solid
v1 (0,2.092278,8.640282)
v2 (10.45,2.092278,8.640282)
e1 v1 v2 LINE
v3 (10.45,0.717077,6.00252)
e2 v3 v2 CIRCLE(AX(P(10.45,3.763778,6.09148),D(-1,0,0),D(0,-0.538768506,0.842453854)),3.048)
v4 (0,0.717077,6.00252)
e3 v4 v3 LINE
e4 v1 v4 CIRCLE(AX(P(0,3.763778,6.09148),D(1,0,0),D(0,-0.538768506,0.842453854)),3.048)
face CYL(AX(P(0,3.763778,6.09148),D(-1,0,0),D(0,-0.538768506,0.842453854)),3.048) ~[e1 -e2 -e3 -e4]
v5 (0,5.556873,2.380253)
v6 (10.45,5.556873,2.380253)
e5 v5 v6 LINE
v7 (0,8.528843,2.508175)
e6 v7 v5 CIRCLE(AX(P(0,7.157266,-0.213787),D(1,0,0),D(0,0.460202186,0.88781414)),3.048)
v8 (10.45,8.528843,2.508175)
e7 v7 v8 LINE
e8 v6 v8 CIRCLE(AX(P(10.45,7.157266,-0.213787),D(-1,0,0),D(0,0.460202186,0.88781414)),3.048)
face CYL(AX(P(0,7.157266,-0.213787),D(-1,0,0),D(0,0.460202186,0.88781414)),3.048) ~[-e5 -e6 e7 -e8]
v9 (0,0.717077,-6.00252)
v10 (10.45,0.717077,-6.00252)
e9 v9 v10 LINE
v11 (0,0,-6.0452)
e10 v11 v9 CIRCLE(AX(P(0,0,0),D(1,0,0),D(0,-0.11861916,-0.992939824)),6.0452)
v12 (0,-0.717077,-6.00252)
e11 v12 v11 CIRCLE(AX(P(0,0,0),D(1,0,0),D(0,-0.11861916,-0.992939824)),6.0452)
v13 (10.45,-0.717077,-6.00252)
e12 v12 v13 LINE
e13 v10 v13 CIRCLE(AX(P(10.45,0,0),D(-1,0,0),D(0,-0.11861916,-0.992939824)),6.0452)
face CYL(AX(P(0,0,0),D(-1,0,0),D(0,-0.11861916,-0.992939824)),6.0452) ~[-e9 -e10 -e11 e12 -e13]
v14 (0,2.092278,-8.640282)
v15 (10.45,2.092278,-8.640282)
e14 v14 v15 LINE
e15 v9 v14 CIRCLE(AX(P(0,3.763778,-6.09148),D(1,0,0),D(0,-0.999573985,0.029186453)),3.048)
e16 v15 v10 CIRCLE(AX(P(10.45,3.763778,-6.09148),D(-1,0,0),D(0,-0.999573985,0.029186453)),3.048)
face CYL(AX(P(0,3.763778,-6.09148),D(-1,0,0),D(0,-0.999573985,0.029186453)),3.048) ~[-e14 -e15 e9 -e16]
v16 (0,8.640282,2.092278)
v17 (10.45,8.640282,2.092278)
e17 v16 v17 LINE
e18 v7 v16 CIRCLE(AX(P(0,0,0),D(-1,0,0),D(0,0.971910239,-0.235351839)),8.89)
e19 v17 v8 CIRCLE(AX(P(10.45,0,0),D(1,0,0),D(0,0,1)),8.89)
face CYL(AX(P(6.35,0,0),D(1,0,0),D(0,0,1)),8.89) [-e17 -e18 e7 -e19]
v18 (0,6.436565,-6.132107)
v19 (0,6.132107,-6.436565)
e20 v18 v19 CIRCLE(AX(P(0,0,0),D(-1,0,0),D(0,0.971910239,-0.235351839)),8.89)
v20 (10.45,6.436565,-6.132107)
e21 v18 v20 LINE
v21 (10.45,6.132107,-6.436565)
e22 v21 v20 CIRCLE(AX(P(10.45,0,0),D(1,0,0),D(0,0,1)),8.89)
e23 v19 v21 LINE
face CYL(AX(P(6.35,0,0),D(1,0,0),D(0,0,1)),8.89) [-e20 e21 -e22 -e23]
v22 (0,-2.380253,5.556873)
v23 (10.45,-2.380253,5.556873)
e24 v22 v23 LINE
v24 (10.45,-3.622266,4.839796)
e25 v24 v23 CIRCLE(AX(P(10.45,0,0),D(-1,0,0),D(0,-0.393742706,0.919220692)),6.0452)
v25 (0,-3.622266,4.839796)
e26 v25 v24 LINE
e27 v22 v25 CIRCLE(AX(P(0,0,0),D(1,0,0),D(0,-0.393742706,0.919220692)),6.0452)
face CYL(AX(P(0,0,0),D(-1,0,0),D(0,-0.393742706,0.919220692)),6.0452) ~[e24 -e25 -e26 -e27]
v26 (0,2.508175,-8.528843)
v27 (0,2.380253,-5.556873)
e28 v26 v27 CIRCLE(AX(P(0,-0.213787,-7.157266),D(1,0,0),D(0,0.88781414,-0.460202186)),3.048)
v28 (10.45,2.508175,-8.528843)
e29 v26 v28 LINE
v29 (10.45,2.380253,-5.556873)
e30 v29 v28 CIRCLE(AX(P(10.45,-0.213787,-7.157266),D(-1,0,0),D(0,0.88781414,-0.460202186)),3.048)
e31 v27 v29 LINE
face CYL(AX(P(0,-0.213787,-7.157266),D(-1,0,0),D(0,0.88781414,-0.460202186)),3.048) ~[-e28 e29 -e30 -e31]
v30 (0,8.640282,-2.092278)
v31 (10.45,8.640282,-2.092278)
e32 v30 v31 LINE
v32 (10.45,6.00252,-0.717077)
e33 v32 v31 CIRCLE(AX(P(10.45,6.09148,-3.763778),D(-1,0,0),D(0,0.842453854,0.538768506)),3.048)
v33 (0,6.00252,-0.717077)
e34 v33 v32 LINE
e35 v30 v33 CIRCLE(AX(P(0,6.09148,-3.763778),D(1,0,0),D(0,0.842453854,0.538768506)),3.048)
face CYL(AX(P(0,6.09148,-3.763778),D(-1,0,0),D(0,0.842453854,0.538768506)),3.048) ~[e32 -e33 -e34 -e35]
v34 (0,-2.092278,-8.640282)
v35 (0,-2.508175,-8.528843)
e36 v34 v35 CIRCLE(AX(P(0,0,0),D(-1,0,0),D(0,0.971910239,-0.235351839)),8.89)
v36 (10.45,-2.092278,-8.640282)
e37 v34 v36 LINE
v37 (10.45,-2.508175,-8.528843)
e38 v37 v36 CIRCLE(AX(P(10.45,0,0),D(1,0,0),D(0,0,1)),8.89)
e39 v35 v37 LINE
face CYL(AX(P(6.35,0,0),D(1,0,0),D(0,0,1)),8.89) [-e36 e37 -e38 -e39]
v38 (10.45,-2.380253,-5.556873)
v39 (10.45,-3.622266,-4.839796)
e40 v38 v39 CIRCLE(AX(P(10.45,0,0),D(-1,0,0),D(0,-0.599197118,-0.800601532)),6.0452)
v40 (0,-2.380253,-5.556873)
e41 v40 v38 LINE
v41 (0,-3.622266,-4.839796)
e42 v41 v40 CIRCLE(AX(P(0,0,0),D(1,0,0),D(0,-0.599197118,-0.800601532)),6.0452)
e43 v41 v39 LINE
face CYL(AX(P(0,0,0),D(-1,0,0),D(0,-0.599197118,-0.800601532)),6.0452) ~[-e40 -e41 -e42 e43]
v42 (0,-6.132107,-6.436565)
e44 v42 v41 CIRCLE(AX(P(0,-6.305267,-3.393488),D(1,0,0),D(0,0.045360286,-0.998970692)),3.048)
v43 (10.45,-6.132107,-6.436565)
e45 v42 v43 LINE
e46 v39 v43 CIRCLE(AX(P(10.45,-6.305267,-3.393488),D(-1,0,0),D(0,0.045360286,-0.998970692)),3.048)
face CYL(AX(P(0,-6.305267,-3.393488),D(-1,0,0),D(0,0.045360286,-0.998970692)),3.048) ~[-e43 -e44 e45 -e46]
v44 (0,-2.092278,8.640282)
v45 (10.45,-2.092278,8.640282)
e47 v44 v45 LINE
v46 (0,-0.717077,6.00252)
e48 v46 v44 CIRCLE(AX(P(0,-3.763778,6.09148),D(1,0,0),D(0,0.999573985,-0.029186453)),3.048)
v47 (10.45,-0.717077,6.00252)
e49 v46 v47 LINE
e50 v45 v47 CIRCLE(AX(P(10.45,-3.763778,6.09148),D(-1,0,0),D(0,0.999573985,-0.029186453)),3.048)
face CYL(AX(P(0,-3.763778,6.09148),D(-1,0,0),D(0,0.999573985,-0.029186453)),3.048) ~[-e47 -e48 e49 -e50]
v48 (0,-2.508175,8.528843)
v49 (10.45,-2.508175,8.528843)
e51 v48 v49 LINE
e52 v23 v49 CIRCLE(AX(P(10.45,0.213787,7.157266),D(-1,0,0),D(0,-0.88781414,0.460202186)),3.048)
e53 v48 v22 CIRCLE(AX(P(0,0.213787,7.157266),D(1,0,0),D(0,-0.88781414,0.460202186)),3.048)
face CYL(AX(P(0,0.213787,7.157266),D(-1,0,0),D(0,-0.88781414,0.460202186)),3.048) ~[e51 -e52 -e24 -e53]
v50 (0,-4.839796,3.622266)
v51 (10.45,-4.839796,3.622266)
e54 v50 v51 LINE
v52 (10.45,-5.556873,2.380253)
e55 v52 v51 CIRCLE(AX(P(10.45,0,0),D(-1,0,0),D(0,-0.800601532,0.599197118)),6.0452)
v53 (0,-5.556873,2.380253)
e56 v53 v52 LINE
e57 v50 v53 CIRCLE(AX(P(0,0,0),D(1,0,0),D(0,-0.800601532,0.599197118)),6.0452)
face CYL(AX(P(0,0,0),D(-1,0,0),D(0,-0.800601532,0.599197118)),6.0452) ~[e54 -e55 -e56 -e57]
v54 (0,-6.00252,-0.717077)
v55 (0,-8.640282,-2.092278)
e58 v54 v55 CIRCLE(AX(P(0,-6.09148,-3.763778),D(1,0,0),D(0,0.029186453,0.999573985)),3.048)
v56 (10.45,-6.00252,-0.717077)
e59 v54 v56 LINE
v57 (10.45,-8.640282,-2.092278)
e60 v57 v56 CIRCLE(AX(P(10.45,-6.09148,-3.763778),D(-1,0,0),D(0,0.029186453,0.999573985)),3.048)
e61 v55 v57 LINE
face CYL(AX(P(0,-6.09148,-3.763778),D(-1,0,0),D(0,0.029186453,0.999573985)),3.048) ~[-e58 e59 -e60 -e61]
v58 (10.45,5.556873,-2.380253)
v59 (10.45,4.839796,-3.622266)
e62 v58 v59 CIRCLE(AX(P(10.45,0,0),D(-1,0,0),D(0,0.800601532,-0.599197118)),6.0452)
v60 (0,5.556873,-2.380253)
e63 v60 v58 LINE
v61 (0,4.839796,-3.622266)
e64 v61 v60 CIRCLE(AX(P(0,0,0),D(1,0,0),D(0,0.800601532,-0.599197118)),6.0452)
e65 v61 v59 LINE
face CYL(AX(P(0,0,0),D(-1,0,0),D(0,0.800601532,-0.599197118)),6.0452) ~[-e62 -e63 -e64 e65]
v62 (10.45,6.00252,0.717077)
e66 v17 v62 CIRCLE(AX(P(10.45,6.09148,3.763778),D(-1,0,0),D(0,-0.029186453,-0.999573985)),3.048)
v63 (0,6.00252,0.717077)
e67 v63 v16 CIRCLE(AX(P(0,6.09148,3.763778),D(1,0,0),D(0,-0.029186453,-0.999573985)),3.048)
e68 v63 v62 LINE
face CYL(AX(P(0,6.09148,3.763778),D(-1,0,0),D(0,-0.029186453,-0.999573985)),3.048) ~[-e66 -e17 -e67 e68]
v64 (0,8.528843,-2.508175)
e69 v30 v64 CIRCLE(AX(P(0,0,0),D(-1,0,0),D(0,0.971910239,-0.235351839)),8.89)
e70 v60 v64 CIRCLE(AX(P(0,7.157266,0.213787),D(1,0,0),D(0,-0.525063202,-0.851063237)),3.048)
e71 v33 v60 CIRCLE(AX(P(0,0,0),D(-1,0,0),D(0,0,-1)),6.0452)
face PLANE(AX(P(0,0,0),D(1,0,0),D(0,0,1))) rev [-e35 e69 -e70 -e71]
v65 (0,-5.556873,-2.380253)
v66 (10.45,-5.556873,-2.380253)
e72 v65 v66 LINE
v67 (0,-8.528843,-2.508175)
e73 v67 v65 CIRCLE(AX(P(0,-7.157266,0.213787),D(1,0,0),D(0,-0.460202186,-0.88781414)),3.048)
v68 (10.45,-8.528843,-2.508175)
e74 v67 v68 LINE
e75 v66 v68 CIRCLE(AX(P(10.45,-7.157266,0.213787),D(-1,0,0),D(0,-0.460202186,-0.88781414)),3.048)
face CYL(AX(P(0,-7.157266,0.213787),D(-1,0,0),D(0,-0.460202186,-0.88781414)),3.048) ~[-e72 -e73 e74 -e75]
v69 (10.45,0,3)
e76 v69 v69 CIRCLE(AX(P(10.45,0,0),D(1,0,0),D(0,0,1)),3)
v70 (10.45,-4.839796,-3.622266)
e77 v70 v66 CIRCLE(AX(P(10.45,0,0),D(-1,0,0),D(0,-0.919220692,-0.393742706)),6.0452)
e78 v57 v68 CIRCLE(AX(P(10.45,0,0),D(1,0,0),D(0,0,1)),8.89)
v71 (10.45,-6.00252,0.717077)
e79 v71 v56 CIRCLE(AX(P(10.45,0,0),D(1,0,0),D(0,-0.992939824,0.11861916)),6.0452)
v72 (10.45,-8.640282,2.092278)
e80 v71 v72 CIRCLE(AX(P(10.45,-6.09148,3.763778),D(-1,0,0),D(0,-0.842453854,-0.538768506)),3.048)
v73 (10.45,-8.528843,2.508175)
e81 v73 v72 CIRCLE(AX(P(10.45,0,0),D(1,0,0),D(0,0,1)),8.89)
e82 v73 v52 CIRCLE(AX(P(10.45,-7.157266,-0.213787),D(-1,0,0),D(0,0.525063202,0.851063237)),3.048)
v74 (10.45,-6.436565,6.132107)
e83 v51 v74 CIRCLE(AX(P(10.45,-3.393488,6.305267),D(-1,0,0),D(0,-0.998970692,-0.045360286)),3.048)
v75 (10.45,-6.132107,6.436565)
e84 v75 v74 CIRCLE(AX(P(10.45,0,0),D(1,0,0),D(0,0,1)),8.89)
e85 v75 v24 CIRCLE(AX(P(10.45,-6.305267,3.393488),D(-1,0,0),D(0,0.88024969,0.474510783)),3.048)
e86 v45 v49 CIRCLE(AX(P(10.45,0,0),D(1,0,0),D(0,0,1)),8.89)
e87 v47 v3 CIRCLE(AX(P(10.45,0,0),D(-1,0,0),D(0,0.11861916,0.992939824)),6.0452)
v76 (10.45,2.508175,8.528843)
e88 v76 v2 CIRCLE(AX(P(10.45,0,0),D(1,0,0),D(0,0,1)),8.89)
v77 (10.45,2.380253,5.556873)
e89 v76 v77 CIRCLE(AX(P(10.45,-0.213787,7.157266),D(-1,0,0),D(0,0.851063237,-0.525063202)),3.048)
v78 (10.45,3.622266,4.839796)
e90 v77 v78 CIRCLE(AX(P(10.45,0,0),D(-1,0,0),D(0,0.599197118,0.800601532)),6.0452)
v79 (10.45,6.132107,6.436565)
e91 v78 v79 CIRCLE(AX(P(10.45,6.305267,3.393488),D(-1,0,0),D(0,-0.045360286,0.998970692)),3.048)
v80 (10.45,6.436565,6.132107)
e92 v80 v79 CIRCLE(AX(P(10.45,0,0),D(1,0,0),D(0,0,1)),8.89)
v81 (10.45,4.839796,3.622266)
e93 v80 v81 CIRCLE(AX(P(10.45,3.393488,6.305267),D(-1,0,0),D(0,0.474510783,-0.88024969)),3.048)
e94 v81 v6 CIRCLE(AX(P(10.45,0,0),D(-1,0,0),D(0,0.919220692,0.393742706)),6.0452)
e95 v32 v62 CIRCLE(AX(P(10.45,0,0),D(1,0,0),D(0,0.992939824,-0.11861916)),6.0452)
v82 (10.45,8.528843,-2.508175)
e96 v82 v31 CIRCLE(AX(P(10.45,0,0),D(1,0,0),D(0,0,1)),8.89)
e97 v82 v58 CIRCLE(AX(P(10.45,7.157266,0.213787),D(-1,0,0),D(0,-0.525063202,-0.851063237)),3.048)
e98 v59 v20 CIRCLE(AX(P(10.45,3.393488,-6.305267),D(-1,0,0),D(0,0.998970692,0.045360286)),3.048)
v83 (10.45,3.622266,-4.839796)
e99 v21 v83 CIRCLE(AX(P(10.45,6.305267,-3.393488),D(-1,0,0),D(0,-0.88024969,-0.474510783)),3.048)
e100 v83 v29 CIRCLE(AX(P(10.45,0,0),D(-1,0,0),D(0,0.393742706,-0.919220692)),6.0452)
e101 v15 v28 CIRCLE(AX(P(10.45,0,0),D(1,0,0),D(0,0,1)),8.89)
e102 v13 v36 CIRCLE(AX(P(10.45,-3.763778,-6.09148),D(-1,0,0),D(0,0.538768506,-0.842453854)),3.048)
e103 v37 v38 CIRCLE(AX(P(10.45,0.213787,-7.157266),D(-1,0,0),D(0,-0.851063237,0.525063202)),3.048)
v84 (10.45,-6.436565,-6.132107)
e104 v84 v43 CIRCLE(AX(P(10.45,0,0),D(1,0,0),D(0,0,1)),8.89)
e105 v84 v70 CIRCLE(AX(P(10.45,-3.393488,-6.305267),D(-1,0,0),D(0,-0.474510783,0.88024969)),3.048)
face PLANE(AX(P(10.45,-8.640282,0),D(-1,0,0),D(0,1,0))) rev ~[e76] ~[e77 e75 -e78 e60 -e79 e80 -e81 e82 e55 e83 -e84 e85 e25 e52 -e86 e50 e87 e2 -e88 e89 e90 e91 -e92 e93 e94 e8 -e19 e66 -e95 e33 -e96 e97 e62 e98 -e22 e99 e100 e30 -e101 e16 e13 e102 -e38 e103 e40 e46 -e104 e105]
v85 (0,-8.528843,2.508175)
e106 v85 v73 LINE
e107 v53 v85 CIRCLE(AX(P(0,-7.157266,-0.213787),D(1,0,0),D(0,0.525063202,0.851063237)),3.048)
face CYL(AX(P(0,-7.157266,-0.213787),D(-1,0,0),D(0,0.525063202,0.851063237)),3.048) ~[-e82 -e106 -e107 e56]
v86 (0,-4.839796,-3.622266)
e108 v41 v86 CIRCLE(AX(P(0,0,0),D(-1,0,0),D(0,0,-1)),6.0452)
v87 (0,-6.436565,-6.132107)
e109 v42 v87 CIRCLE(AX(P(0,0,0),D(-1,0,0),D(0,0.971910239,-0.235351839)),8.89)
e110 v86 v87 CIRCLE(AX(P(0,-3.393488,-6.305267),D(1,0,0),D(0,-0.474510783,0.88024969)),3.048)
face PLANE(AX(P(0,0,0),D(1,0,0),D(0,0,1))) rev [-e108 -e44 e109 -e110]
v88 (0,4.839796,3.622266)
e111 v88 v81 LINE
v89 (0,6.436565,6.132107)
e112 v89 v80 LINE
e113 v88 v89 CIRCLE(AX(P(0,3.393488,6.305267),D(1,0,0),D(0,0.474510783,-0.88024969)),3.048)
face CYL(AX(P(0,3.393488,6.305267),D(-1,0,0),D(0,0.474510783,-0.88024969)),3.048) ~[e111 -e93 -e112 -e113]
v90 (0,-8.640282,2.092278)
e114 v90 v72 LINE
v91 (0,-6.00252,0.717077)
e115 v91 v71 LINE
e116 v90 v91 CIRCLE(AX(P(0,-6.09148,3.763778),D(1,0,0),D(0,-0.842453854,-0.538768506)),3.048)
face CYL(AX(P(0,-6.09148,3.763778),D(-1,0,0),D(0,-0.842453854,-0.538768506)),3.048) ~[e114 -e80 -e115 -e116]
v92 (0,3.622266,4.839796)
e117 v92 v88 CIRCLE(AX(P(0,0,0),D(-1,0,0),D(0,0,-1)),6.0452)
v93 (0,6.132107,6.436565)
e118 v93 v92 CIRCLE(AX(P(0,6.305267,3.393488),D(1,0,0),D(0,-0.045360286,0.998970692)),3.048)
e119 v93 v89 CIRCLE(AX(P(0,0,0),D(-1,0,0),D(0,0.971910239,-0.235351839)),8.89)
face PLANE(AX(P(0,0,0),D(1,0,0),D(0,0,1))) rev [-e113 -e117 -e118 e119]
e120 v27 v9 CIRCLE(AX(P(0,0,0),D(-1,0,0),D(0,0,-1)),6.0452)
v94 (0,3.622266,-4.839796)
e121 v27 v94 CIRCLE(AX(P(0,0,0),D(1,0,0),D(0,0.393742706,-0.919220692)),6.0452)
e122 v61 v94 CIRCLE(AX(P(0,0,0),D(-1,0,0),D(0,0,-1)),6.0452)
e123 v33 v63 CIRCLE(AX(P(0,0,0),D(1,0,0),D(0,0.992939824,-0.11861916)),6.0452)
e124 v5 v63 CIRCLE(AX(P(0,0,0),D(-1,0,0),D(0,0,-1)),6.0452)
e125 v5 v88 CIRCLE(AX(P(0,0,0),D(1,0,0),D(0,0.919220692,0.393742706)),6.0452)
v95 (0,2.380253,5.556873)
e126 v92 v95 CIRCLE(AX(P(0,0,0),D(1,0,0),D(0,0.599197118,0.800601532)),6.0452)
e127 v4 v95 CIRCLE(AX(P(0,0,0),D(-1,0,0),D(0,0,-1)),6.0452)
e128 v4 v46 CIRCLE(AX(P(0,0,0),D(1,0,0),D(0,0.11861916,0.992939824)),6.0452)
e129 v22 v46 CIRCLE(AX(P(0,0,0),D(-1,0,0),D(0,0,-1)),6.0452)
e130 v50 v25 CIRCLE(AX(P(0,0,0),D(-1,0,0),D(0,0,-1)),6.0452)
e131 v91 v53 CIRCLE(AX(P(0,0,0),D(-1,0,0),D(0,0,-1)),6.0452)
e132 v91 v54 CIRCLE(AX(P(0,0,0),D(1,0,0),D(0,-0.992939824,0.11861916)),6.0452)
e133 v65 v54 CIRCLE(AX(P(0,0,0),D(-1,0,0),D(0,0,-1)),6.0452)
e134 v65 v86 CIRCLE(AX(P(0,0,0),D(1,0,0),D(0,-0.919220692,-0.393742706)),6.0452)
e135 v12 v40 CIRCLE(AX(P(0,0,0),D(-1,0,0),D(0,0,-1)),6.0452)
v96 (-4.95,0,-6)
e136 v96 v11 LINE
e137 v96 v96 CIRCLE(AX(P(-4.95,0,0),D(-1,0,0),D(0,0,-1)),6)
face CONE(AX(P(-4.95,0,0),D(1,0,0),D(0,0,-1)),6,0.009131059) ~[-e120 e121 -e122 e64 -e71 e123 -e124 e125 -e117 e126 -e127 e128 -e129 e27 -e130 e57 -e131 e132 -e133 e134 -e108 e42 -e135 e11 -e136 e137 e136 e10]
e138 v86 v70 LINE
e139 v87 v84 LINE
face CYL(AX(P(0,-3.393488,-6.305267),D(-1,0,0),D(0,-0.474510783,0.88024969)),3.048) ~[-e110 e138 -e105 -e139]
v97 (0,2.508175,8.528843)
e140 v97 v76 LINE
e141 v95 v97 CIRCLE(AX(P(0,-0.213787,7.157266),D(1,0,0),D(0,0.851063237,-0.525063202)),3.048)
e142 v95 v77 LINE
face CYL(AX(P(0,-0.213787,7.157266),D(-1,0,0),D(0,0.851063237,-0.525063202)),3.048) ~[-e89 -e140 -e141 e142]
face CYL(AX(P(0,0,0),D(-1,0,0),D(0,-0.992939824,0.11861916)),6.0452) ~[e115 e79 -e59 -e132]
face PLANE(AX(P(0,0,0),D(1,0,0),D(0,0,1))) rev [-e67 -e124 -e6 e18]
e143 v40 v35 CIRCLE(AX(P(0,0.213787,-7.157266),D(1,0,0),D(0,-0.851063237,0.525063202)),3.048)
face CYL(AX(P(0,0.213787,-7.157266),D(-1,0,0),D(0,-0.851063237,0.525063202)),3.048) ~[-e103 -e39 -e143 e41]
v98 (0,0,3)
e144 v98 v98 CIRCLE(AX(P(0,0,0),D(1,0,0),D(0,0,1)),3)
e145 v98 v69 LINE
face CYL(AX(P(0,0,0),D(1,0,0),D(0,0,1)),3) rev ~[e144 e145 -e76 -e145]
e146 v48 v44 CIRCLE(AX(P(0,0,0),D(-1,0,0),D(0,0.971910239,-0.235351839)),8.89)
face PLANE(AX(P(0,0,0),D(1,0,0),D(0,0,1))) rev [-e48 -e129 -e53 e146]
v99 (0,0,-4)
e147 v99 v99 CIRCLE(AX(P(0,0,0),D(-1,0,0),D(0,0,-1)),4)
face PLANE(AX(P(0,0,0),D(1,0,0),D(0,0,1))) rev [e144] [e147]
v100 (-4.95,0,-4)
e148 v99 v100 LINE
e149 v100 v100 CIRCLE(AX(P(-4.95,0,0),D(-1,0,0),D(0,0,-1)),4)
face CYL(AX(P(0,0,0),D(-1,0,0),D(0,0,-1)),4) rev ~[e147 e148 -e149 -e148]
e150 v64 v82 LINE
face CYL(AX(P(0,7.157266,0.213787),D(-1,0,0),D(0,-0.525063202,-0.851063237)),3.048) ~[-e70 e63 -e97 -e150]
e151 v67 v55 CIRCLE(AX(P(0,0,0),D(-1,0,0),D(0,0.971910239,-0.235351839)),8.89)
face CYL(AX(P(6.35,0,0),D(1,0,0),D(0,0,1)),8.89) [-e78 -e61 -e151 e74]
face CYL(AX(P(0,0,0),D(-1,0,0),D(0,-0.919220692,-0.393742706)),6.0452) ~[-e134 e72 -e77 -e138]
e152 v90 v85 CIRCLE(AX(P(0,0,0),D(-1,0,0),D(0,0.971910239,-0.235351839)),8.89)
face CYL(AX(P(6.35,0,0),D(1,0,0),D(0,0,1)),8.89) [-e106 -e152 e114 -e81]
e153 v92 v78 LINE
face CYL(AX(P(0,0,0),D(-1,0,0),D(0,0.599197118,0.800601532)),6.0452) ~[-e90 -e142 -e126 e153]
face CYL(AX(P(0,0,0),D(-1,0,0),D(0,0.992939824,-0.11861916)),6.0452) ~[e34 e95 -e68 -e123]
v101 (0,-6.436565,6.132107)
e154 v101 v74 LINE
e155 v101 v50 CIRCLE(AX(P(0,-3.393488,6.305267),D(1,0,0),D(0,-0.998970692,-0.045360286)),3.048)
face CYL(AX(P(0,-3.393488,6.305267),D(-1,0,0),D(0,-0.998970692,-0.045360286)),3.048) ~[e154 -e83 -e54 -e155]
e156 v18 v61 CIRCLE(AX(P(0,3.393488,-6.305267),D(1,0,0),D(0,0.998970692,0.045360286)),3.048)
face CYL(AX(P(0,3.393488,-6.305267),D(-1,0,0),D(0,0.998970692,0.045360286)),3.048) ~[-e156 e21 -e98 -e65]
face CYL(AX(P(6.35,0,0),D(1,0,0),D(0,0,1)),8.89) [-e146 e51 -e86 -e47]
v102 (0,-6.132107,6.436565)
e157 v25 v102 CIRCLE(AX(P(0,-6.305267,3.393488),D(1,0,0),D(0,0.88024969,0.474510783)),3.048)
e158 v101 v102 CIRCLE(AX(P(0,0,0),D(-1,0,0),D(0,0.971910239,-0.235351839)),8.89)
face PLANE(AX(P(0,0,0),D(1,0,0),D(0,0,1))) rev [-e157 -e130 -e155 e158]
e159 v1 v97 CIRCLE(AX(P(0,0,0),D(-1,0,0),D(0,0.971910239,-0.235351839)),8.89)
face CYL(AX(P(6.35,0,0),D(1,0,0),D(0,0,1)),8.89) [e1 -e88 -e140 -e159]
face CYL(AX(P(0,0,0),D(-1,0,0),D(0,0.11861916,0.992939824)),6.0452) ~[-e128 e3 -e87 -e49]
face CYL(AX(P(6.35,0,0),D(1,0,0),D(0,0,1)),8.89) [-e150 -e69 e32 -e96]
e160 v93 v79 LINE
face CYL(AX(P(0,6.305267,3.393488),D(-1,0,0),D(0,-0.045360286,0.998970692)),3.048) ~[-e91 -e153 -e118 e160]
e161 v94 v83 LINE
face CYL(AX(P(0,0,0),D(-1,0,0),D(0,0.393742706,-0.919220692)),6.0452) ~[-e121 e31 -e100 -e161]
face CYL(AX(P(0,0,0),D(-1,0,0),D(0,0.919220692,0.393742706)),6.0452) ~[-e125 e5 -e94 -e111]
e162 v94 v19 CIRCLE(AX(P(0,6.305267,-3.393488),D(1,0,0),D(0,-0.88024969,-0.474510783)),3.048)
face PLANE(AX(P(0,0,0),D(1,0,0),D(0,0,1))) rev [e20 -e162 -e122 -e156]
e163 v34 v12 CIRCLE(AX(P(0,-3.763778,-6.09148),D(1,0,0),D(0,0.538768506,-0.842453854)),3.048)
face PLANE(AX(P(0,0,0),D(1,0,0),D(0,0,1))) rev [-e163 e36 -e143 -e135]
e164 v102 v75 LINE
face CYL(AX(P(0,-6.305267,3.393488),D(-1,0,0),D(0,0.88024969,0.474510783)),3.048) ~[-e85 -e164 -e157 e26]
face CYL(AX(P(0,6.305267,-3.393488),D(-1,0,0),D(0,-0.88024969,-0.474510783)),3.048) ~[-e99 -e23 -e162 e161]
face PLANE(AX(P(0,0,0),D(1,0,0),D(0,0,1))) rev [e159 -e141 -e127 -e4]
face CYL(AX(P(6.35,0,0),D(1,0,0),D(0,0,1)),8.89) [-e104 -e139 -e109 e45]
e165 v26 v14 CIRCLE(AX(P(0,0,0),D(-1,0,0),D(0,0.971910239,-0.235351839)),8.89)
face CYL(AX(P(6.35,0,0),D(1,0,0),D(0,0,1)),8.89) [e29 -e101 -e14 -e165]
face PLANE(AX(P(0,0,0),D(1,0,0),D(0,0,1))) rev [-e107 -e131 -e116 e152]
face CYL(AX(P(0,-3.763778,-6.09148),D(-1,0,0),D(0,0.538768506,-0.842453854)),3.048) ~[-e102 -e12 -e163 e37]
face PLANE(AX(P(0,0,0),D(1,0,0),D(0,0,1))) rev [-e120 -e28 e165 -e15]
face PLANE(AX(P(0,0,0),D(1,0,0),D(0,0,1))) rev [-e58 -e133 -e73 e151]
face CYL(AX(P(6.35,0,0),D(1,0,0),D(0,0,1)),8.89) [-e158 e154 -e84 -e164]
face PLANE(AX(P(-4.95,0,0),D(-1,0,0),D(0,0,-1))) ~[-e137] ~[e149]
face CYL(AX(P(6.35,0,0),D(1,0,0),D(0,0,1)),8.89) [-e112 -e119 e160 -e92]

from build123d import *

# Parameters (mm, degrees)
BASPROSKE_W             = 12.7
BASPROSKE_H             = 8.89
TOOTHCUT_DEPTH          = 18.870484045
TEETHCUTS_COUNT         = 12
TEETHCUTS_ANGLE         = 330
BORSKE_R                = 3
BORE_DEPTH              = 50.8000508
SKETCH2_W               = 2.25
SKETCH2_H               = 17.280564042
CUT_EXTRUDE1_DEPTH      = 18.6238176
CUT_EXTRUDE1_DEPTH_BACK = 18.6238176


with BuildPart() as part:
    # BasProSke → Base-Revolve (revolve)
    with BuildSketch(Plane(origin=(0, 0, 0), x_dir=(1, 0, 0), z_dir=(0, 1, 0)), mode=Mode.PRIVATE) as base_revolve_sk:
        with Locations((6.35, 4.445)):
            Rectangle(BASPROSKE_W, BASPROSKE_H)
    revolve(base_revolve_sk.sketch.rotate(Axis((-10, 0, 0), (1, 0, 0)), 180), axis=Axis((-10, 0, 0), (1, 0, 0)))

    # TooCutSke → ToothCut (cut, through all)
    with BuildSketch(Plane(origin=(0, 0, 0), x_dir=(0, 0, -1), z_dir=(1, 0, 0))):
        with BuildLine():
            ThreePointArc((0.717076553, 6.002519826), (0, 6.0452), (-0.717076553, 6.002519826))
            ThreePointArc((-0.717076553, 6.002519826), (-1.069160545, 7.516029346), (-2.121611652, 8.659279483))
            ThreePointArc((-2.121611652, 8.659279483), (0, 8.9154), (2.121611652, 8.659279483))
            ThreePointArc((2.121611652, 8.659279483), (1.069160545, 7.516029346), (0.717076553, 6.002519826))
        make_face()
    toothcut = extrude(amount=TOOTHCUT_DEPTH, mode=Mode.SUBTRACT)

    # TeethCuts: ToothCut ×12 about axis
    teethcuts_axis = Axis((-10, 0, 0), (1, 0, 0))
    for i in range(1, TEETHCUTS_COUNT):
        add(toothcut.rotate(teethcuts_axis, i * TEETHCUTS_ANGLE / (TEETHCUTS_COUNT - 1)), mode=Mode.SUBTRACT)

    # BorSke → Bore (cut, symmetric)
    with BuildSketch(Plane(origin=(0, 0, 0), x_dir=(0, 0, -1), z_dir=(1, 0, 0))):
        with Locations(Location((0, 0, 0), (0, 0, 180))):
            Circle(BORSKE_R)
    extrude(amount=BORE_DEPTH, both=True, mode=Mode.SUBTRACT)

    # Sketch1 → Revolve1 (revolve)
    with BuildSketch(Plane.XY, mode=Mode.PRIVATE) as revolve1_sk:
        Polygon((0, -4), (-4.95, -4), (-4.95, -6), (0, -6.0452), align=None)
    revolve(revolve1_sk.sketch.rotate(Axis((0, 0, 0), (-1, 0, 0)), 270), axis=Axis((0, 0, 0), (-1, 0, 0)))

    # Sketch2 → Cut-Extrude1 (cut, two sides)
    with BuildSketch(Plane.XY) as cut_extrude1_sk:
        with Locations((11.575, 0)):
            Rectangle(SKETCH2_W, SKETCH2_H)
    extrude(amount=CUT_EXTRUDE1_DEPTH, mode=Mode.SUBTRACT)
    extrude(cut_extrude1_sk.sketch, amount=-CUT_EXTRUDE1_DEPTH_BACK, mode=Mode.SUBTRACT)


solid = part.part
